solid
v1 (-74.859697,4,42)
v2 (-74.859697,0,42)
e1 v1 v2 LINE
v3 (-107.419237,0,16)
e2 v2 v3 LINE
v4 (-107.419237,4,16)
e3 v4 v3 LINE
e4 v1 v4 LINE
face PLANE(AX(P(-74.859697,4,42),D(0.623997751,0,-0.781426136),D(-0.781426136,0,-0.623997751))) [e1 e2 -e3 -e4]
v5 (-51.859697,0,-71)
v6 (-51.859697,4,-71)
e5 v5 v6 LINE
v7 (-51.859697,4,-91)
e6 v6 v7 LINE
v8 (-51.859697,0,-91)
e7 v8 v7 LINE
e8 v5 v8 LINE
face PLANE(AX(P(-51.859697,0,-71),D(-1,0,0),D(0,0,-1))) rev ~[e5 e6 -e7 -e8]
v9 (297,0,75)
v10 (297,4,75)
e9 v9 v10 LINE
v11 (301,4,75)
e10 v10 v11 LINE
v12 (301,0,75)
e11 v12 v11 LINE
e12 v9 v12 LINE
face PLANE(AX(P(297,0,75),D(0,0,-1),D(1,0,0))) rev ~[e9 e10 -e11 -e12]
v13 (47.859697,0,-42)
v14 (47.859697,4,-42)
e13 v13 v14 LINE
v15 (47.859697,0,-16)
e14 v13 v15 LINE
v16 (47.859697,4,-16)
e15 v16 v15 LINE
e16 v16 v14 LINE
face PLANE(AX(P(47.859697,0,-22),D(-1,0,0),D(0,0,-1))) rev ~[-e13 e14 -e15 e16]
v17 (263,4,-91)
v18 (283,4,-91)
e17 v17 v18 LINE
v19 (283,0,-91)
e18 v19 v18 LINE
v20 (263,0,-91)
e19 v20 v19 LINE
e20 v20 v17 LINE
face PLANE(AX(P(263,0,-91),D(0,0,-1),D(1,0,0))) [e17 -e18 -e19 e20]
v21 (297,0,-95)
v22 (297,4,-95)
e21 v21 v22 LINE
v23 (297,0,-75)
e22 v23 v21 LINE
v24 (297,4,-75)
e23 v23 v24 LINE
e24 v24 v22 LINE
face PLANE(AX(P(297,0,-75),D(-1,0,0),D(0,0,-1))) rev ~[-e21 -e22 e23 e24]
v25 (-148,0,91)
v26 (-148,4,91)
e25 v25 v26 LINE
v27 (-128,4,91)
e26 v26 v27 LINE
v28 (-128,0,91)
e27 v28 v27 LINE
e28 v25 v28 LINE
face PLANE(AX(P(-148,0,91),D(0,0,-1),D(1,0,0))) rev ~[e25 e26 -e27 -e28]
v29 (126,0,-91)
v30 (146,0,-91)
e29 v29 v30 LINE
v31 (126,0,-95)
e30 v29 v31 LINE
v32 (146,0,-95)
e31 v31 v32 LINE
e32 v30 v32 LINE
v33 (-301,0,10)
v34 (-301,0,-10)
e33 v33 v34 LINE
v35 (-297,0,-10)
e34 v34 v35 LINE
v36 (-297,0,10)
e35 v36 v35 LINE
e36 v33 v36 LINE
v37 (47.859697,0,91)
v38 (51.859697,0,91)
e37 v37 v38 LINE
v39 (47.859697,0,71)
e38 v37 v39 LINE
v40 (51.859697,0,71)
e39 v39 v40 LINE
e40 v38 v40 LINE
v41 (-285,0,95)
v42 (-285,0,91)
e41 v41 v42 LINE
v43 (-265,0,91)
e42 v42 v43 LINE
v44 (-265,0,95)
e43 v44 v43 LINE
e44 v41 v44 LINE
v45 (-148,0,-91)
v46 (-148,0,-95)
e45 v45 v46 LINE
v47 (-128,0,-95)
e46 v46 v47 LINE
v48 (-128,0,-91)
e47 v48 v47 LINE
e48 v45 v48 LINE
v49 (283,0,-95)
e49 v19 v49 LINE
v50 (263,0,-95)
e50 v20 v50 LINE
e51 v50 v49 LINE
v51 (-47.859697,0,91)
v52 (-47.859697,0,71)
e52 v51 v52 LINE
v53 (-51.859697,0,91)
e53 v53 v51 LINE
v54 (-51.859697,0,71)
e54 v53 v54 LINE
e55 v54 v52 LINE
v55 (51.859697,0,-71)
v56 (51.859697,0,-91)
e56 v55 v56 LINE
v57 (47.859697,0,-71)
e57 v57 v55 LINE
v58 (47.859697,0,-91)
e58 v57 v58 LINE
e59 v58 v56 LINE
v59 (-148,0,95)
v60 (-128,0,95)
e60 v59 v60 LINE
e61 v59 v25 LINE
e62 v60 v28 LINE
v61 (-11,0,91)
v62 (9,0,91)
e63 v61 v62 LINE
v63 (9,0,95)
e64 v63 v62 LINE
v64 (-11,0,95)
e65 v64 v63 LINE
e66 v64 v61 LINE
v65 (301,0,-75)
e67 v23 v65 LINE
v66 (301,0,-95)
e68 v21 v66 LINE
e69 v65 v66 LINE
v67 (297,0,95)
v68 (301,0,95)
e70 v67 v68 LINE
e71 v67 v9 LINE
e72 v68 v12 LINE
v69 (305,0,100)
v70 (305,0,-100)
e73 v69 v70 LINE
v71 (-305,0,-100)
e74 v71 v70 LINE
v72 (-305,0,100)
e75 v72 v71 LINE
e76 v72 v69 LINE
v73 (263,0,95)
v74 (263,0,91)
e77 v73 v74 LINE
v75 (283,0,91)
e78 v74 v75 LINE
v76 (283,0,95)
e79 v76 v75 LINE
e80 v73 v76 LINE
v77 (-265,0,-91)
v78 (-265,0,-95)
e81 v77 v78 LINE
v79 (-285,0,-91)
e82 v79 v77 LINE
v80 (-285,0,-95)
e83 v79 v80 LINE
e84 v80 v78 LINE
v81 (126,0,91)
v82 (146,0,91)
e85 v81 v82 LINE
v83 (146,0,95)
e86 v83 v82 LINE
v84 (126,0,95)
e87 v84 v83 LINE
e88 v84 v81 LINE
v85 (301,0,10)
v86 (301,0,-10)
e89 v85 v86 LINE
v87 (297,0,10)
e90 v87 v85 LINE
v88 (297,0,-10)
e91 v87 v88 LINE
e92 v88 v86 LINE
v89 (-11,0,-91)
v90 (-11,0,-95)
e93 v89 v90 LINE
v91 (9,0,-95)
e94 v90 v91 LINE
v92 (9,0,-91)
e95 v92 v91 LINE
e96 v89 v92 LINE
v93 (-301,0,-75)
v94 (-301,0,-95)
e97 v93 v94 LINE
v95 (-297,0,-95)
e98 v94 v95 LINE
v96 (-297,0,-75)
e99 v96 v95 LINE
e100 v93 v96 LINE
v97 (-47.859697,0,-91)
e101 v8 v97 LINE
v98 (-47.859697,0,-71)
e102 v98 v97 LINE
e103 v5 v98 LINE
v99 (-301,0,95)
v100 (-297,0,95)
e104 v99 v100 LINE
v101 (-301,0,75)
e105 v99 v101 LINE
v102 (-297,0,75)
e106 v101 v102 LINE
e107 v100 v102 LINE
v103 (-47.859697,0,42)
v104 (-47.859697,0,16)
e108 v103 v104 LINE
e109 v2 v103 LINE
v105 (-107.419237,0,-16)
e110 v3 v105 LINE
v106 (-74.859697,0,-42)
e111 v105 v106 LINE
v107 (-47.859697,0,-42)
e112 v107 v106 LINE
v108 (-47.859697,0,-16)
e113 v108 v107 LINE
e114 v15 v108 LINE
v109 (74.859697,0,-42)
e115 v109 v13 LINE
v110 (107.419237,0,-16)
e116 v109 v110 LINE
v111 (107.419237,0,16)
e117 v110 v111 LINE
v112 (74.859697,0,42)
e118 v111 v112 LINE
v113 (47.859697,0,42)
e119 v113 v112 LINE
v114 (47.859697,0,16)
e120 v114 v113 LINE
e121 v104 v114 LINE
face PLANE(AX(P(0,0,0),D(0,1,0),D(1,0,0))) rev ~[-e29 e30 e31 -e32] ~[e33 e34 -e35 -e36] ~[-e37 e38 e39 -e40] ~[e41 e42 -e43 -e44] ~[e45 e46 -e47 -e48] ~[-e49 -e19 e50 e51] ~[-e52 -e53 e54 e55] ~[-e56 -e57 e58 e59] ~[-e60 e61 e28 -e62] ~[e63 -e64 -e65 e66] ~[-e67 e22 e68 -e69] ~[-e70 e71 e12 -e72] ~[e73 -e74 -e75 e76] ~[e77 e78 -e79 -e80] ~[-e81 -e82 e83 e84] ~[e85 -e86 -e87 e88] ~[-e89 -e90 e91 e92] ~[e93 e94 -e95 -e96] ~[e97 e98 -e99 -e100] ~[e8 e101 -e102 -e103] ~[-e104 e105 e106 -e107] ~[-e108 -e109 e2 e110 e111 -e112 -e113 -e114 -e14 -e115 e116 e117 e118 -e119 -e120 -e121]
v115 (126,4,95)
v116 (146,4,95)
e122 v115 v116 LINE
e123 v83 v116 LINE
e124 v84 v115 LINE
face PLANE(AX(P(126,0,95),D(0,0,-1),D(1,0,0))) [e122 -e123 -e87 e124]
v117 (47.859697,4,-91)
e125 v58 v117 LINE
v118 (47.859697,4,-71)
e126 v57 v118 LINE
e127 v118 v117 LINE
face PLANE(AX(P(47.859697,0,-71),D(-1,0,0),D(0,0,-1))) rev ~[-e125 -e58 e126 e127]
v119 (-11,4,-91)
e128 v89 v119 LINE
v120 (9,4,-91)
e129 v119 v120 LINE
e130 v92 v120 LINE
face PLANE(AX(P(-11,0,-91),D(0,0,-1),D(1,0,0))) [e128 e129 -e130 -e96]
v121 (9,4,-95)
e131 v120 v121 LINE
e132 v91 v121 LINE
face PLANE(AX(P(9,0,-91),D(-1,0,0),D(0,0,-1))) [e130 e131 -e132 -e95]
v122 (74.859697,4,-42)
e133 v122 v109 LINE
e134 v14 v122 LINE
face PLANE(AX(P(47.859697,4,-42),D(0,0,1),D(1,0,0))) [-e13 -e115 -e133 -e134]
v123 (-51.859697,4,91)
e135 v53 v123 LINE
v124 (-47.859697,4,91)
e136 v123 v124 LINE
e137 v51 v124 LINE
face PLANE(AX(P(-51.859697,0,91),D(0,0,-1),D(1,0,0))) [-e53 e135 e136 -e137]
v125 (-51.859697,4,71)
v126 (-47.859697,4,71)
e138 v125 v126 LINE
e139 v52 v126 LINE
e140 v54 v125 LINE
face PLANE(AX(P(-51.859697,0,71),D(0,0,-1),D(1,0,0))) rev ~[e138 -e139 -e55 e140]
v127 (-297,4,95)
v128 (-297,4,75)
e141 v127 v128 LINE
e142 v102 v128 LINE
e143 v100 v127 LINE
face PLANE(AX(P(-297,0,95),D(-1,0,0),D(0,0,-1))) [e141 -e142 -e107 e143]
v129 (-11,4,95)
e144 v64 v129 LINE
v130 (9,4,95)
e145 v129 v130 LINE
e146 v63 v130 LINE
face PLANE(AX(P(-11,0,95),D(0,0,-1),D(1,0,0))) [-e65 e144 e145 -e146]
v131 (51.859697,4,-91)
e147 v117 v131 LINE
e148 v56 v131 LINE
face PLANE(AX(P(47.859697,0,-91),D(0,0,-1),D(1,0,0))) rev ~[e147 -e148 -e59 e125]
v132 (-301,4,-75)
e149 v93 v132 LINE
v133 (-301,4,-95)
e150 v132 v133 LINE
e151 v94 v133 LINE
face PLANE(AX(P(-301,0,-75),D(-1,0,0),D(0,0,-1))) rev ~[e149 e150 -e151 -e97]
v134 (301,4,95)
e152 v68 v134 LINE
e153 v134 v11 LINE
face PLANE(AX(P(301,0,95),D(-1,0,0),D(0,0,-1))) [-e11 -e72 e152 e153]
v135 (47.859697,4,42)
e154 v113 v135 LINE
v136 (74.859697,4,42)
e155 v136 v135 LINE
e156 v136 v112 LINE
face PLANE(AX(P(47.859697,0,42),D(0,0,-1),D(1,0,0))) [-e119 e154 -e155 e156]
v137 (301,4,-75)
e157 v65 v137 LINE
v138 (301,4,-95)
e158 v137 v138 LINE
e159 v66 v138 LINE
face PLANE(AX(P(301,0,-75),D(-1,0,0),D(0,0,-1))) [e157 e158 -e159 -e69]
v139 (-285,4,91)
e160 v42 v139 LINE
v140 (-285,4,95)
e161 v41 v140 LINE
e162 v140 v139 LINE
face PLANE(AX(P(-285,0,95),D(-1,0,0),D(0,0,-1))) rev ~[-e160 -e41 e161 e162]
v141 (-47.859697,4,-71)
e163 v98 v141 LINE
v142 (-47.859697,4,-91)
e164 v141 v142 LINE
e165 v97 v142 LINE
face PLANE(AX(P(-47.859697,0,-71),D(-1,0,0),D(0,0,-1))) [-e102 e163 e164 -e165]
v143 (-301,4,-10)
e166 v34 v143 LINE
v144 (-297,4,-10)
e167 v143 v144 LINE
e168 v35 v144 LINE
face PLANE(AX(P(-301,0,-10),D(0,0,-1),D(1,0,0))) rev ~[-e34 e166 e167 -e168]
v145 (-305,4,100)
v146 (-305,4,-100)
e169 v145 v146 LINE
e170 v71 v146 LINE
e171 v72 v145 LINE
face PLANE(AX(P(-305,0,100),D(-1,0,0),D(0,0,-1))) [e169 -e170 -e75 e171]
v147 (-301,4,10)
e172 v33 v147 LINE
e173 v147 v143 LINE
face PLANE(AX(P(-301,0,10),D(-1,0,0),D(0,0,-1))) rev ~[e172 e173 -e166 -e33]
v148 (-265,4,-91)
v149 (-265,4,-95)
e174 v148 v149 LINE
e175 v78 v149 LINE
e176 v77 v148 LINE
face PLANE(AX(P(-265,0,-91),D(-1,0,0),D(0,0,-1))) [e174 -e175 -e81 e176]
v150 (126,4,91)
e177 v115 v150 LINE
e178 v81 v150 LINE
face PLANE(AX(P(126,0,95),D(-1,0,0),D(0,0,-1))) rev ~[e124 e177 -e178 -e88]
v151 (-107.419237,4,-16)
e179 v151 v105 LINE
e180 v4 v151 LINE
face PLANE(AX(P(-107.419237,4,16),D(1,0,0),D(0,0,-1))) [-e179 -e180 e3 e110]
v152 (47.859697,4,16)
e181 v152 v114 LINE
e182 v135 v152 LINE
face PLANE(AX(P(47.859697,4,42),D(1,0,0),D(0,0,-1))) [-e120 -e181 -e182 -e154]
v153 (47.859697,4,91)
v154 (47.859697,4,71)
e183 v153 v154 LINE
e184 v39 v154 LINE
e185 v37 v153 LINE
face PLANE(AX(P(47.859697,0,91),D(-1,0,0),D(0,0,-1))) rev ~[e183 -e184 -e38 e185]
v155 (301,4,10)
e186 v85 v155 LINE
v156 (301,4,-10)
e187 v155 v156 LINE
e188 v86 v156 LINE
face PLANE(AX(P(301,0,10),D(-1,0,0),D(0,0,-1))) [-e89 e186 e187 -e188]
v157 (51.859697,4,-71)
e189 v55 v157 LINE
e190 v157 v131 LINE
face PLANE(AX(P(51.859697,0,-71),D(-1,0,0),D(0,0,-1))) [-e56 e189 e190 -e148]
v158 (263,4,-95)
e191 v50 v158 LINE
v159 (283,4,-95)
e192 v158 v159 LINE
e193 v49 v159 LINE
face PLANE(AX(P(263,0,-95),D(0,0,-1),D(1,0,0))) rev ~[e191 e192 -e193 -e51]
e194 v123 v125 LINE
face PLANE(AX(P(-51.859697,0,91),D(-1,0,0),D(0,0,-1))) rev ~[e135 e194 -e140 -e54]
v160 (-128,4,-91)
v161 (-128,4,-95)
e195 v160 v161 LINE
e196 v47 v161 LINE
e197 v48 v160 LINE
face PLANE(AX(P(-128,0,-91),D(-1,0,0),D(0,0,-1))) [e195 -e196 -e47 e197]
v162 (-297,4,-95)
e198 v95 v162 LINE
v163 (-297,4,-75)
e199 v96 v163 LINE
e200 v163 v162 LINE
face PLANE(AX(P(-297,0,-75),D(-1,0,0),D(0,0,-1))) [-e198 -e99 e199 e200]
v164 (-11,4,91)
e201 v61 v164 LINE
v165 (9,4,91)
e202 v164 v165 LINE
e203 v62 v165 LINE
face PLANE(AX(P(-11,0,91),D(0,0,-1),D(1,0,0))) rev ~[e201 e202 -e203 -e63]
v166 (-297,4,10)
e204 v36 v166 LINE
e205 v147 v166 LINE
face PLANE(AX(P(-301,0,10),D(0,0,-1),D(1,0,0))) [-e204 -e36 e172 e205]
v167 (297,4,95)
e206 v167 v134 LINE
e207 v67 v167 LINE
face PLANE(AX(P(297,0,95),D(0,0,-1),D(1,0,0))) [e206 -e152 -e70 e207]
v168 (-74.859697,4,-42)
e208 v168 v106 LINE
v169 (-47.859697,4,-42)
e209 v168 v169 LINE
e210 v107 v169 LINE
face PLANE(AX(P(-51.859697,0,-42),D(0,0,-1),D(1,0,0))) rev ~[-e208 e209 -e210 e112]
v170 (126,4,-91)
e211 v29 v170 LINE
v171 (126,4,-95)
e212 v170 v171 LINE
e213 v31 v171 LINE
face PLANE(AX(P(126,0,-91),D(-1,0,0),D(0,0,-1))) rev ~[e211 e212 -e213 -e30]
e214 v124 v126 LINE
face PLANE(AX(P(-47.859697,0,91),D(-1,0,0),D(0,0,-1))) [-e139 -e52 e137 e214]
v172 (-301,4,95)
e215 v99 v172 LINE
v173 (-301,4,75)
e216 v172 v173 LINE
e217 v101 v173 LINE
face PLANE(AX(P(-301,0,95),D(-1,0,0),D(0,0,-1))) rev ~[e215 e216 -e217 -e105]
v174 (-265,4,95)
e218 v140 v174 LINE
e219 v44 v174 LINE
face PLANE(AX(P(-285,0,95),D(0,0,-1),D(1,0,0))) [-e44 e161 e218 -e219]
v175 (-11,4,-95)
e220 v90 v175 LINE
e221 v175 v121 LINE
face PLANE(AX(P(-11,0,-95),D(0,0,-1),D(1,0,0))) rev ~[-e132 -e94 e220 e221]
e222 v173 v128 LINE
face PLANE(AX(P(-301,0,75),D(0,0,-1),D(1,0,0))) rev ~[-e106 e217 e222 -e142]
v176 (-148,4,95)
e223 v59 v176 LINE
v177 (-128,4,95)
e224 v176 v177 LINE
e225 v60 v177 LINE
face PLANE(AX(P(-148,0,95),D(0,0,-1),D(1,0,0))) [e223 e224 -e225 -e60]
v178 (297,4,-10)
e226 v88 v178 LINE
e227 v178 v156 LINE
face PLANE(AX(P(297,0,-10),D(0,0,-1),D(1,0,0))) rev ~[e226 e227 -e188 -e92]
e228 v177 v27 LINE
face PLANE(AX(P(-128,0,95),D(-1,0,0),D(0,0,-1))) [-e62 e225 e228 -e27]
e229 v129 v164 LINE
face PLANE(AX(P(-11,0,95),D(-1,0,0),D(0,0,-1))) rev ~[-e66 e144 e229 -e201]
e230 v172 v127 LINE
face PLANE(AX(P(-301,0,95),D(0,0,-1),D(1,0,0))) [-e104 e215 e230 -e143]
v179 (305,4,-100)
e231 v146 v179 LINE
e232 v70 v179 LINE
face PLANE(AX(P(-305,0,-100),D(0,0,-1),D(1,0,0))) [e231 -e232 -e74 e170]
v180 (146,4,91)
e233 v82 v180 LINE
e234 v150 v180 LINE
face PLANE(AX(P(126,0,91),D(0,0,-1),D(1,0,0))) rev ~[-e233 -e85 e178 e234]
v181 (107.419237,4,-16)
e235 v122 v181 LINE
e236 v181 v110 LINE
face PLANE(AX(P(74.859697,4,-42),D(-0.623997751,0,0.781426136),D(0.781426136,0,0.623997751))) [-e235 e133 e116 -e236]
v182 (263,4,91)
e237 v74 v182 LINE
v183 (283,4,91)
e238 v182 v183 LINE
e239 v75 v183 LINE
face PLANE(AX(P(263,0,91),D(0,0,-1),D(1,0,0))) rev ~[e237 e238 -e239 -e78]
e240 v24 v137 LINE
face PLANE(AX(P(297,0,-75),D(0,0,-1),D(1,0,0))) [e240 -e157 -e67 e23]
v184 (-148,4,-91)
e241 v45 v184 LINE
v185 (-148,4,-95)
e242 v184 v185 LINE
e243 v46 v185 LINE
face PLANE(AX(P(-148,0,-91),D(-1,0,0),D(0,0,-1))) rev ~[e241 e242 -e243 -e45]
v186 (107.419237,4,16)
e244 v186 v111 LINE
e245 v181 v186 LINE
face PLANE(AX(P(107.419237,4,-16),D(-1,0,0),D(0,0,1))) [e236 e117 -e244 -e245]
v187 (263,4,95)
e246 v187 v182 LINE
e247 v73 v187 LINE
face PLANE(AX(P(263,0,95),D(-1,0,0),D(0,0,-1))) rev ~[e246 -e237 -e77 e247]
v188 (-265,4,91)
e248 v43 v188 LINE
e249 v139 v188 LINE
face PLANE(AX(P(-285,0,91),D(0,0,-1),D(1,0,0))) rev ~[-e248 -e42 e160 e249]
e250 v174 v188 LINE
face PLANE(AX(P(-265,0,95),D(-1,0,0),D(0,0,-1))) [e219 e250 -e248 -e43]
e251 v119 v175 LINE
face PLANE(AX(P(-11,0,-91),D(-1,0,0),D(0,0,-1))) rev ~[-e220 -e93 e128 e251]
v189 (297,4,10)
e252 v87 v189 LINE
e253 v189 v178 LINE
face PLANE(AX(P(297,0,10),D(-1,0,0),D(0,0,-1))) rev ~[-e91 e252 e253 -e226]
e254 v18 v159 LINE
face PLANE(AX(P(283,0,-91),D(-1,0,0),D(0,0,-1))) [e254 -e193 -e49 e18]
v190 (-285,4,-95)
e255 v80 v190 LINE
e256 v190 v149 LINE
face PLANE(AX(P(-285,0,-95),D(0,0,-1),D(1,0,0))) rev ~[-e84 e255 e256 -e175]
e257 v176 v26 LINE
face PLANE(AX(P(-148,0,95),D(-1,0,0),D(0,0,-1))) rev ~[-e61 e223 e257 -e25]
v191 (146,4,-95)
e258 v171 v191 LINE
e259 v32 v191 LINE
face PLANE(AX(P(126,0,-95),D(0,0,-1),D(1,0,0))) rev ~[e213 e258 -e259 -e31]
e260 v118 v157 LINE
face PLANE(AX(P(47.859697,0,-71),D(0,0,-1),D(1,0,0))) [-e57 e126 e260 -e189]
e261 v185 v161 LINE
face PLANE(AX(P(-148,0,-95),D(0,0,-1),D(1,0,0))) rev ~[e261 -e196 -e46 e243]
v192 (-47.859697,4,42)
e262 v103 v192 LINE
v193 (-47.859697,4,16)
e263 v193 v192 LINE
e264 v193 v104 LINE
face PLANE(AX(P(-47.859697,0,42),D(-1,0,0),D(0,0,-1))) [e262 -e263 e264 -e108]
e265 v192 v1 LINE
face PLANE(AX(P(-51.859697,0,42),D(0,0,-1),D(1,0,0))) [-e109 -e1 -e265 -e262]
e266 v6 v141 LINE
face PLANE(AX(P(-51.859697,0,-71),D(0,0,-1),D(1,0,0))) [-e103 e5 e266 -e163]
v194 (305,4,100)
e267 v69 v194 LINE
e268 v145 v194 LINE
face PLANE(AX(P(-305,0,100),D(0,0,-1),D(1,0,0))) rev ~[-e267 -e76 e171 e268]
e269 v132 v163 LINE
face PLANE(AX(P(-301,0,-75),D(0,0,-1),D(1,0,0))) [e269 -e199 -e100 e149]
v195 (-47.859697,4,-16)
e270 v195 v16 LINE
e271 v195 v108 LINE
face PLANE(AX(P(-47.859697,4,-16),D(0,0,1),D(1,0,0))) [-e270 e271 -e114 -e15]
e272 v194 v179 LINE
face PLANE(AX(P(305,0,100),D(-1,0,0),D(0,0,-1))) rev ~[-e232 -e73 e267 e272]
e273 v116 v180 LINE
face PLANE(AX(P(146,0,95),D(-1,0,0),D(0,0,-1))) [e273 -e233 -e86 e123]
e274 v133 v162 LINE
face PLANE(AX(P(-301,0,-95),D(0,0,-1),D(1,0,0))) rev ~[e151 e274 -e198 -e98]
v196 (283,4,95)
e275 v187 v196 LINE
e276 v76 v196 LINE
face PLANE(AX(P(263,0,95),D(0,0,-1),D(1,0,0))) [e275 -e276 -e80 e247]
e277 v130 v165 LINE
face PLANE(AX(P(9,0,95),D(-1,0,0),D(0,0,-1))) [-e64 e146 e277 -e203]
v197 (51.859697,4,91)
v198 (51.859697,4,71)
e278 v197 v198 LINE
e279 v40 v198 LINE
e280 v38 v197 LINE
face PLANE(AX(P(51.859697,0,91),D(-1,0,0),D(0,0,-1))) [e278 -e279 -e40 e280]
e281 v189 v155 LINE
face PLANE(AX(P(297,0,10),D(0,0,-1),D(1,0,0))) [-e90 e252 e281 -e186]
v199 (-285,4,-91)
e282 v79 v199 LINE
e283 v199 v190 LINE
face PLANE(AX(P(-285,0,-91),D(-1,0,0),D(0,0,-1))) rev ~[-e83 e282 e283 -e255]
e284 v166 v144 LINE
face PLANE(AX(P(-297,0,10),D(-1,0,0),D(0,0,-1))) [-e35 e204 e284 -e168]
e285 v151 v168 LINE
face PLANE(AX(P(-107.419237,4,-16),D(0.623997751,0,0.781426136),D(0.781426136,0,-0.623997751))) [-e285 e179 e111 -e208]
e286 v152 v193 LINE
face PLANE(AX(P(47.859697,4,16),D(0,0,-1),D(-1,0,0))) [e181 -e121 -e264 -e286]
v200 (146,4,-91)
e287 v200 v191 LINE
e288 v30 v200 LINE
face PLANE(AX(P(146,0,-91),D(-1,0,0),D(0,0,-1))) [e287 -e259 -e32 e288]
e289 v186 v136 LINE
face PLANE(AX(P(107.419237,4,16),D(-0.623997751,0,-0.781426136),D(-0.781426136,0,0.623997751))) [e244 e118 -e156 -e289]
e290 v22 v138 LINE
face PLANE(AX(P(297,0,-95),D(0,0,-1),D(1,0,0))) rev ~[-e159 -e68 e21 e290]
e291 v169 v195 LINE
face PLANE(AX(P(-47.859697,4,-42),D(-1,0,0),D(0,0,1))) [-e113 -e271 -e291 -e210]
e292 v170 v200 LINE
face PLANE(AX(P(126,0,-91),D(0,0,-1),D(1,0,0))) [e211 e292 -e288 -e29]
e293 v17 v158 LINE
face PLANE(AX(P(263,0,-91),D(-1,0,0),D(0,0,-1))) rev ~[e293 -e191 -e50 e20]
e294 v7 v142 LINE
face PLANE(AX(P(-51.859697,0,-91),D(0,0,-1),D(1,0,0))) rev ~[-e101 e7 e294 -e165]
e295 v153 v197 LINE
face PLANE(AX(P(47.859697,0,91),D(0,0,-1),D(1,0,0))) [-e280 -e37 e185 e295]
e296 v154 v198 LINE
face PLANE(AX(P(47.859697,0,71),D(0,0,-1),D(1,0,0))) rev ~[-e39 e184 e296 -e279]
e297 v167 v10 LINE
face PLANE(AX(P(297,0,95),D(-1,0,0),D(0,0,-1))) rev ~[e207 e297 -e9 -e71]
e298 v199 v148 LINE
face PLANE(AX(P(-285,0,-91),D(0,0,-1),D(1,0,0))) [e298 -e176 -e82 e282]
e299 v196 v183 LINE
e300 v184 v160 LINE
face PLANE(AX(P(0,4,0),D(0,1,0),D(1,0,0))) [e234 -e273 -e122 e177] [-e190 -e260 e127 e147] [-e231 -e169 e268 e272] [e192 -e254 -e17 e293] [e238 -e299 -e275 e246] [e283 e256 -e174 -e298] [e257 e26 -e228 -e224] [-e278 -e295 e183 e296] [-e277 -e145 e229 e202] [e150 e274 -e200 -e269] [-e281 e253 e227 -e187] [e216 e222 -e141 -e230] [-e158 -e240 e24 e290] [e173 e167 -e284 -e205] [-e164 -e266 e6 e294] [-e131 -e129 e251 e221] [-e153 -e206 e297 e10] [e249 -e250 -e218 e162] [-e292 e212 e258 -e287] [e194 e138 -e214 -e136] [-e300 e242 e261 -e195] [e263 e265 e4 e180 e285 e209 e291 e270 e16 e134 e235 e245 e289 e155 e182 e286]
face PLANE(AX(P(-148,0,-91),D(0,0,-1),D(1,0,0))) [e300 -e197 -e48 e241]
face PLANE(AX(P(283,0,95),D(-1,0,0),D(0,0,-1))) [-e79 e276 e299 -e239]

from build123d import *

# Parameters (mm, degrees)
SKETCH1_W           = 610
SKETCH1_H           = 200
SKETCH1_W_2         = 4
SKETCH1_H_2         = 20
SKETCH1_W_3         = 20
SKETCH1_H_3         = 4
BOSS_EXTRUDE1_DEPTH = 4
CUT_EXTRUDE1_DEPTH  = 10


with BuildPart() as part:
    # Sketch1 → Boss-Extrude1 (new body)
    with BuildSketch(Plane(origin=(0, 0, 0), x_dir=(1, 0, 0), z_dir=(0, 1, 0))):
        Rectangle(SKETCH1_W, SKETCH1_H)
        with Locations((-299, -85)):
            Rectangle(SKETCH1_W_2, SKETCH1_H_2, mode=Mode.SUBTRACT)
        with Locations((-299, 85)):
            Rectangle(SKETCH1_W_2, SKETCH1_H_2, mode=Mode.SUBTRACT)
        with Locations((-299, 0)):
            Rectangle(SKETCH1_W_2, SKETCH1_H_2, mode=Mode.SUBTRACT)
        with Locations((-275, 93)):
            Rectangle(SKETCH1_W_3, SKETCH1_H_3, mode=Mode.SUBTRACT)
        with Locations((-138, 93)):
            Rectangle(SKETCH1_W_3, SKETCH1_H_3, mode=Mode.SUBTRACT)
        with Locations((-1, 93)):
            Rectangle(SKETCH1_W_3, SKETCH1_H_3, mode=Mode.SUBTRACT)
        with Locations((-1, -93)):
            Rectangle(SKETCH1_W_3, SKETCH1_H_3, mode=Mode.SUBTRACT)
        with Locations((-138, -93)):
            Rectangle(SKETCH1_W_3, SKETCH1_H_3, mode=Mode.SUBTRACT)
        with Locations((-275, -93)):
            Rectangle(SKETCH1_W_3, SKETCH1_H_3, mode=Mode.SUBTRACT)
        with Locations((-49.859697176, -81)):
            Rectangle(SKETCH1_W_2, SKETCH1_H_2, mode=Mode.SUBTRACT)
        with Locations((-49.859697176, -32)):
            Rectangle(SKETCH1_W_2, SKETCH1_H_2, mode=Mode.SUBTRACT)
        with Locations((-64.859697176, -14)):
            Rectangle(SKETCH1_W_3, SKETCH1_H_3, mode=Mode.SUBTRACT)
        with Locations((-64.859697176, 14)):
            Rectangle(SKETCH1_W_3, SKETCH1_H_3, mode=Mode.SUBTRACT)
        with Locations((-49.859697176, 32)):
            Rectangle(SKETCH1_W_2, SKETCH1_H_2, mode=Mode.SUBTRACT)
        with Locations((0, -14)):
            Rectangle(SKETCH1_W_3, SKETCH1_H_3, mode=Mode.SUBTRACT)
        with Locations((0.140302824, 14)):
            Rectangle(SKETCH1_W_3, SKETCH1_H_3, mode=Mode.SUBTRACT)
        with Locations((136, 93)):
            Rectangle(SKETCH1_W_3, SKETCH1_H_3, mode=Mode.SUBTRACT)
        with Locations((273, 93)):
            Rectangle(SKETCH1_W_3, SKETCH1_H_3, mode=Mode.SUBTRACT)
        with Locations((49.859697176, -81)):
            Rectangle(SKETCH1_W_2, SKETCH1_H_2, mode=Mode.SUBTRACT)
        with Locations((49.859697176, -32)):
            Rectangle(SKETCH1_W_2, SKETCH1_H_2, mode=Mode.SUBTRACT)
        with Locations((64.859697176, -14)):
            Rectangle(SKETCH1_W_3, SKETCH1_H_3, mode=Mode.SUBTRACT)
        with Locations((64.859697176, 14)):
            Rectangle(SKETCH1_W_3, SKETCH1_H_3, mode=Mode.SUBTRACT)
        with Locations((49.859697176, 32)):
            Rectangle(SKETCH1_W_2, SKETCH1_H_2, mode=Mode.SUBTRACT)
        with Locations((273, -93)):
            Rectangle(SKETCH1_W_3, SKETCH1_H_3, mode=Mode.SUBTRACT)
        with Locations((136, -93)):
            Rectangle(SKETCH1_W_3, SKETCH1_H_3, mode=Mode.SUBTRACT)
        with Locations((49.859697176, 81)):
            Rectangle(SKETCH1_W_2, SKETCH1_H_2, mode=Mode.SUBTRACT)
        with Locations((-49.859697176, 81)):
            Rectangle(SKETCH1_W_2, SKETCH1_H_2, mode=Mode.SUBTRACT)
        with Locations((299, 85)):
            Rectangle(SKETCH1_W_2, SKETCH1_H_2, mode=Mode.SUBTRACT)
        with Locations((299, 0)):
            Rectangle(SKETCH1_W_2, SKETCH1_H_2, mode=Mode.SUBTRACT)
        with Locations((299, -85)):
            Rectangle(SKETCH1_W_2, SKETCH1_H_2, mode=Mode.SUBTRACT)
    extrude(amount=BOSS_EXTRUDE1_DEPTH)

    # Sketch2 → Cut-Extrude1 (cut)
    with BuildSketch(Plane(origin=(0, 4, 0), x_dir=(1, 0, 0), z_dir=(0, 1, 0))):
        Polygon((-47.859697176, 16), (47.859697176, 16), (47.859697176, 42), (74.859697176, 42), (107.419236847, 16), (107.419236847, -16), (74.859697176, -42), (47.859697176, -42), (47.859697176, -16), (-47.859697176, -16), (-47.859697176, -42), (-74.859697176, -42), (-107.419236847, -16), (-107.419236847, 16), (-74.859697176, 42), (-47.859697176, 42), align=None)
    extrude(amount=-CUT_EXTRUDE1_DEPTH, mode=Mode.SUBTRACT)


solid = part.part
